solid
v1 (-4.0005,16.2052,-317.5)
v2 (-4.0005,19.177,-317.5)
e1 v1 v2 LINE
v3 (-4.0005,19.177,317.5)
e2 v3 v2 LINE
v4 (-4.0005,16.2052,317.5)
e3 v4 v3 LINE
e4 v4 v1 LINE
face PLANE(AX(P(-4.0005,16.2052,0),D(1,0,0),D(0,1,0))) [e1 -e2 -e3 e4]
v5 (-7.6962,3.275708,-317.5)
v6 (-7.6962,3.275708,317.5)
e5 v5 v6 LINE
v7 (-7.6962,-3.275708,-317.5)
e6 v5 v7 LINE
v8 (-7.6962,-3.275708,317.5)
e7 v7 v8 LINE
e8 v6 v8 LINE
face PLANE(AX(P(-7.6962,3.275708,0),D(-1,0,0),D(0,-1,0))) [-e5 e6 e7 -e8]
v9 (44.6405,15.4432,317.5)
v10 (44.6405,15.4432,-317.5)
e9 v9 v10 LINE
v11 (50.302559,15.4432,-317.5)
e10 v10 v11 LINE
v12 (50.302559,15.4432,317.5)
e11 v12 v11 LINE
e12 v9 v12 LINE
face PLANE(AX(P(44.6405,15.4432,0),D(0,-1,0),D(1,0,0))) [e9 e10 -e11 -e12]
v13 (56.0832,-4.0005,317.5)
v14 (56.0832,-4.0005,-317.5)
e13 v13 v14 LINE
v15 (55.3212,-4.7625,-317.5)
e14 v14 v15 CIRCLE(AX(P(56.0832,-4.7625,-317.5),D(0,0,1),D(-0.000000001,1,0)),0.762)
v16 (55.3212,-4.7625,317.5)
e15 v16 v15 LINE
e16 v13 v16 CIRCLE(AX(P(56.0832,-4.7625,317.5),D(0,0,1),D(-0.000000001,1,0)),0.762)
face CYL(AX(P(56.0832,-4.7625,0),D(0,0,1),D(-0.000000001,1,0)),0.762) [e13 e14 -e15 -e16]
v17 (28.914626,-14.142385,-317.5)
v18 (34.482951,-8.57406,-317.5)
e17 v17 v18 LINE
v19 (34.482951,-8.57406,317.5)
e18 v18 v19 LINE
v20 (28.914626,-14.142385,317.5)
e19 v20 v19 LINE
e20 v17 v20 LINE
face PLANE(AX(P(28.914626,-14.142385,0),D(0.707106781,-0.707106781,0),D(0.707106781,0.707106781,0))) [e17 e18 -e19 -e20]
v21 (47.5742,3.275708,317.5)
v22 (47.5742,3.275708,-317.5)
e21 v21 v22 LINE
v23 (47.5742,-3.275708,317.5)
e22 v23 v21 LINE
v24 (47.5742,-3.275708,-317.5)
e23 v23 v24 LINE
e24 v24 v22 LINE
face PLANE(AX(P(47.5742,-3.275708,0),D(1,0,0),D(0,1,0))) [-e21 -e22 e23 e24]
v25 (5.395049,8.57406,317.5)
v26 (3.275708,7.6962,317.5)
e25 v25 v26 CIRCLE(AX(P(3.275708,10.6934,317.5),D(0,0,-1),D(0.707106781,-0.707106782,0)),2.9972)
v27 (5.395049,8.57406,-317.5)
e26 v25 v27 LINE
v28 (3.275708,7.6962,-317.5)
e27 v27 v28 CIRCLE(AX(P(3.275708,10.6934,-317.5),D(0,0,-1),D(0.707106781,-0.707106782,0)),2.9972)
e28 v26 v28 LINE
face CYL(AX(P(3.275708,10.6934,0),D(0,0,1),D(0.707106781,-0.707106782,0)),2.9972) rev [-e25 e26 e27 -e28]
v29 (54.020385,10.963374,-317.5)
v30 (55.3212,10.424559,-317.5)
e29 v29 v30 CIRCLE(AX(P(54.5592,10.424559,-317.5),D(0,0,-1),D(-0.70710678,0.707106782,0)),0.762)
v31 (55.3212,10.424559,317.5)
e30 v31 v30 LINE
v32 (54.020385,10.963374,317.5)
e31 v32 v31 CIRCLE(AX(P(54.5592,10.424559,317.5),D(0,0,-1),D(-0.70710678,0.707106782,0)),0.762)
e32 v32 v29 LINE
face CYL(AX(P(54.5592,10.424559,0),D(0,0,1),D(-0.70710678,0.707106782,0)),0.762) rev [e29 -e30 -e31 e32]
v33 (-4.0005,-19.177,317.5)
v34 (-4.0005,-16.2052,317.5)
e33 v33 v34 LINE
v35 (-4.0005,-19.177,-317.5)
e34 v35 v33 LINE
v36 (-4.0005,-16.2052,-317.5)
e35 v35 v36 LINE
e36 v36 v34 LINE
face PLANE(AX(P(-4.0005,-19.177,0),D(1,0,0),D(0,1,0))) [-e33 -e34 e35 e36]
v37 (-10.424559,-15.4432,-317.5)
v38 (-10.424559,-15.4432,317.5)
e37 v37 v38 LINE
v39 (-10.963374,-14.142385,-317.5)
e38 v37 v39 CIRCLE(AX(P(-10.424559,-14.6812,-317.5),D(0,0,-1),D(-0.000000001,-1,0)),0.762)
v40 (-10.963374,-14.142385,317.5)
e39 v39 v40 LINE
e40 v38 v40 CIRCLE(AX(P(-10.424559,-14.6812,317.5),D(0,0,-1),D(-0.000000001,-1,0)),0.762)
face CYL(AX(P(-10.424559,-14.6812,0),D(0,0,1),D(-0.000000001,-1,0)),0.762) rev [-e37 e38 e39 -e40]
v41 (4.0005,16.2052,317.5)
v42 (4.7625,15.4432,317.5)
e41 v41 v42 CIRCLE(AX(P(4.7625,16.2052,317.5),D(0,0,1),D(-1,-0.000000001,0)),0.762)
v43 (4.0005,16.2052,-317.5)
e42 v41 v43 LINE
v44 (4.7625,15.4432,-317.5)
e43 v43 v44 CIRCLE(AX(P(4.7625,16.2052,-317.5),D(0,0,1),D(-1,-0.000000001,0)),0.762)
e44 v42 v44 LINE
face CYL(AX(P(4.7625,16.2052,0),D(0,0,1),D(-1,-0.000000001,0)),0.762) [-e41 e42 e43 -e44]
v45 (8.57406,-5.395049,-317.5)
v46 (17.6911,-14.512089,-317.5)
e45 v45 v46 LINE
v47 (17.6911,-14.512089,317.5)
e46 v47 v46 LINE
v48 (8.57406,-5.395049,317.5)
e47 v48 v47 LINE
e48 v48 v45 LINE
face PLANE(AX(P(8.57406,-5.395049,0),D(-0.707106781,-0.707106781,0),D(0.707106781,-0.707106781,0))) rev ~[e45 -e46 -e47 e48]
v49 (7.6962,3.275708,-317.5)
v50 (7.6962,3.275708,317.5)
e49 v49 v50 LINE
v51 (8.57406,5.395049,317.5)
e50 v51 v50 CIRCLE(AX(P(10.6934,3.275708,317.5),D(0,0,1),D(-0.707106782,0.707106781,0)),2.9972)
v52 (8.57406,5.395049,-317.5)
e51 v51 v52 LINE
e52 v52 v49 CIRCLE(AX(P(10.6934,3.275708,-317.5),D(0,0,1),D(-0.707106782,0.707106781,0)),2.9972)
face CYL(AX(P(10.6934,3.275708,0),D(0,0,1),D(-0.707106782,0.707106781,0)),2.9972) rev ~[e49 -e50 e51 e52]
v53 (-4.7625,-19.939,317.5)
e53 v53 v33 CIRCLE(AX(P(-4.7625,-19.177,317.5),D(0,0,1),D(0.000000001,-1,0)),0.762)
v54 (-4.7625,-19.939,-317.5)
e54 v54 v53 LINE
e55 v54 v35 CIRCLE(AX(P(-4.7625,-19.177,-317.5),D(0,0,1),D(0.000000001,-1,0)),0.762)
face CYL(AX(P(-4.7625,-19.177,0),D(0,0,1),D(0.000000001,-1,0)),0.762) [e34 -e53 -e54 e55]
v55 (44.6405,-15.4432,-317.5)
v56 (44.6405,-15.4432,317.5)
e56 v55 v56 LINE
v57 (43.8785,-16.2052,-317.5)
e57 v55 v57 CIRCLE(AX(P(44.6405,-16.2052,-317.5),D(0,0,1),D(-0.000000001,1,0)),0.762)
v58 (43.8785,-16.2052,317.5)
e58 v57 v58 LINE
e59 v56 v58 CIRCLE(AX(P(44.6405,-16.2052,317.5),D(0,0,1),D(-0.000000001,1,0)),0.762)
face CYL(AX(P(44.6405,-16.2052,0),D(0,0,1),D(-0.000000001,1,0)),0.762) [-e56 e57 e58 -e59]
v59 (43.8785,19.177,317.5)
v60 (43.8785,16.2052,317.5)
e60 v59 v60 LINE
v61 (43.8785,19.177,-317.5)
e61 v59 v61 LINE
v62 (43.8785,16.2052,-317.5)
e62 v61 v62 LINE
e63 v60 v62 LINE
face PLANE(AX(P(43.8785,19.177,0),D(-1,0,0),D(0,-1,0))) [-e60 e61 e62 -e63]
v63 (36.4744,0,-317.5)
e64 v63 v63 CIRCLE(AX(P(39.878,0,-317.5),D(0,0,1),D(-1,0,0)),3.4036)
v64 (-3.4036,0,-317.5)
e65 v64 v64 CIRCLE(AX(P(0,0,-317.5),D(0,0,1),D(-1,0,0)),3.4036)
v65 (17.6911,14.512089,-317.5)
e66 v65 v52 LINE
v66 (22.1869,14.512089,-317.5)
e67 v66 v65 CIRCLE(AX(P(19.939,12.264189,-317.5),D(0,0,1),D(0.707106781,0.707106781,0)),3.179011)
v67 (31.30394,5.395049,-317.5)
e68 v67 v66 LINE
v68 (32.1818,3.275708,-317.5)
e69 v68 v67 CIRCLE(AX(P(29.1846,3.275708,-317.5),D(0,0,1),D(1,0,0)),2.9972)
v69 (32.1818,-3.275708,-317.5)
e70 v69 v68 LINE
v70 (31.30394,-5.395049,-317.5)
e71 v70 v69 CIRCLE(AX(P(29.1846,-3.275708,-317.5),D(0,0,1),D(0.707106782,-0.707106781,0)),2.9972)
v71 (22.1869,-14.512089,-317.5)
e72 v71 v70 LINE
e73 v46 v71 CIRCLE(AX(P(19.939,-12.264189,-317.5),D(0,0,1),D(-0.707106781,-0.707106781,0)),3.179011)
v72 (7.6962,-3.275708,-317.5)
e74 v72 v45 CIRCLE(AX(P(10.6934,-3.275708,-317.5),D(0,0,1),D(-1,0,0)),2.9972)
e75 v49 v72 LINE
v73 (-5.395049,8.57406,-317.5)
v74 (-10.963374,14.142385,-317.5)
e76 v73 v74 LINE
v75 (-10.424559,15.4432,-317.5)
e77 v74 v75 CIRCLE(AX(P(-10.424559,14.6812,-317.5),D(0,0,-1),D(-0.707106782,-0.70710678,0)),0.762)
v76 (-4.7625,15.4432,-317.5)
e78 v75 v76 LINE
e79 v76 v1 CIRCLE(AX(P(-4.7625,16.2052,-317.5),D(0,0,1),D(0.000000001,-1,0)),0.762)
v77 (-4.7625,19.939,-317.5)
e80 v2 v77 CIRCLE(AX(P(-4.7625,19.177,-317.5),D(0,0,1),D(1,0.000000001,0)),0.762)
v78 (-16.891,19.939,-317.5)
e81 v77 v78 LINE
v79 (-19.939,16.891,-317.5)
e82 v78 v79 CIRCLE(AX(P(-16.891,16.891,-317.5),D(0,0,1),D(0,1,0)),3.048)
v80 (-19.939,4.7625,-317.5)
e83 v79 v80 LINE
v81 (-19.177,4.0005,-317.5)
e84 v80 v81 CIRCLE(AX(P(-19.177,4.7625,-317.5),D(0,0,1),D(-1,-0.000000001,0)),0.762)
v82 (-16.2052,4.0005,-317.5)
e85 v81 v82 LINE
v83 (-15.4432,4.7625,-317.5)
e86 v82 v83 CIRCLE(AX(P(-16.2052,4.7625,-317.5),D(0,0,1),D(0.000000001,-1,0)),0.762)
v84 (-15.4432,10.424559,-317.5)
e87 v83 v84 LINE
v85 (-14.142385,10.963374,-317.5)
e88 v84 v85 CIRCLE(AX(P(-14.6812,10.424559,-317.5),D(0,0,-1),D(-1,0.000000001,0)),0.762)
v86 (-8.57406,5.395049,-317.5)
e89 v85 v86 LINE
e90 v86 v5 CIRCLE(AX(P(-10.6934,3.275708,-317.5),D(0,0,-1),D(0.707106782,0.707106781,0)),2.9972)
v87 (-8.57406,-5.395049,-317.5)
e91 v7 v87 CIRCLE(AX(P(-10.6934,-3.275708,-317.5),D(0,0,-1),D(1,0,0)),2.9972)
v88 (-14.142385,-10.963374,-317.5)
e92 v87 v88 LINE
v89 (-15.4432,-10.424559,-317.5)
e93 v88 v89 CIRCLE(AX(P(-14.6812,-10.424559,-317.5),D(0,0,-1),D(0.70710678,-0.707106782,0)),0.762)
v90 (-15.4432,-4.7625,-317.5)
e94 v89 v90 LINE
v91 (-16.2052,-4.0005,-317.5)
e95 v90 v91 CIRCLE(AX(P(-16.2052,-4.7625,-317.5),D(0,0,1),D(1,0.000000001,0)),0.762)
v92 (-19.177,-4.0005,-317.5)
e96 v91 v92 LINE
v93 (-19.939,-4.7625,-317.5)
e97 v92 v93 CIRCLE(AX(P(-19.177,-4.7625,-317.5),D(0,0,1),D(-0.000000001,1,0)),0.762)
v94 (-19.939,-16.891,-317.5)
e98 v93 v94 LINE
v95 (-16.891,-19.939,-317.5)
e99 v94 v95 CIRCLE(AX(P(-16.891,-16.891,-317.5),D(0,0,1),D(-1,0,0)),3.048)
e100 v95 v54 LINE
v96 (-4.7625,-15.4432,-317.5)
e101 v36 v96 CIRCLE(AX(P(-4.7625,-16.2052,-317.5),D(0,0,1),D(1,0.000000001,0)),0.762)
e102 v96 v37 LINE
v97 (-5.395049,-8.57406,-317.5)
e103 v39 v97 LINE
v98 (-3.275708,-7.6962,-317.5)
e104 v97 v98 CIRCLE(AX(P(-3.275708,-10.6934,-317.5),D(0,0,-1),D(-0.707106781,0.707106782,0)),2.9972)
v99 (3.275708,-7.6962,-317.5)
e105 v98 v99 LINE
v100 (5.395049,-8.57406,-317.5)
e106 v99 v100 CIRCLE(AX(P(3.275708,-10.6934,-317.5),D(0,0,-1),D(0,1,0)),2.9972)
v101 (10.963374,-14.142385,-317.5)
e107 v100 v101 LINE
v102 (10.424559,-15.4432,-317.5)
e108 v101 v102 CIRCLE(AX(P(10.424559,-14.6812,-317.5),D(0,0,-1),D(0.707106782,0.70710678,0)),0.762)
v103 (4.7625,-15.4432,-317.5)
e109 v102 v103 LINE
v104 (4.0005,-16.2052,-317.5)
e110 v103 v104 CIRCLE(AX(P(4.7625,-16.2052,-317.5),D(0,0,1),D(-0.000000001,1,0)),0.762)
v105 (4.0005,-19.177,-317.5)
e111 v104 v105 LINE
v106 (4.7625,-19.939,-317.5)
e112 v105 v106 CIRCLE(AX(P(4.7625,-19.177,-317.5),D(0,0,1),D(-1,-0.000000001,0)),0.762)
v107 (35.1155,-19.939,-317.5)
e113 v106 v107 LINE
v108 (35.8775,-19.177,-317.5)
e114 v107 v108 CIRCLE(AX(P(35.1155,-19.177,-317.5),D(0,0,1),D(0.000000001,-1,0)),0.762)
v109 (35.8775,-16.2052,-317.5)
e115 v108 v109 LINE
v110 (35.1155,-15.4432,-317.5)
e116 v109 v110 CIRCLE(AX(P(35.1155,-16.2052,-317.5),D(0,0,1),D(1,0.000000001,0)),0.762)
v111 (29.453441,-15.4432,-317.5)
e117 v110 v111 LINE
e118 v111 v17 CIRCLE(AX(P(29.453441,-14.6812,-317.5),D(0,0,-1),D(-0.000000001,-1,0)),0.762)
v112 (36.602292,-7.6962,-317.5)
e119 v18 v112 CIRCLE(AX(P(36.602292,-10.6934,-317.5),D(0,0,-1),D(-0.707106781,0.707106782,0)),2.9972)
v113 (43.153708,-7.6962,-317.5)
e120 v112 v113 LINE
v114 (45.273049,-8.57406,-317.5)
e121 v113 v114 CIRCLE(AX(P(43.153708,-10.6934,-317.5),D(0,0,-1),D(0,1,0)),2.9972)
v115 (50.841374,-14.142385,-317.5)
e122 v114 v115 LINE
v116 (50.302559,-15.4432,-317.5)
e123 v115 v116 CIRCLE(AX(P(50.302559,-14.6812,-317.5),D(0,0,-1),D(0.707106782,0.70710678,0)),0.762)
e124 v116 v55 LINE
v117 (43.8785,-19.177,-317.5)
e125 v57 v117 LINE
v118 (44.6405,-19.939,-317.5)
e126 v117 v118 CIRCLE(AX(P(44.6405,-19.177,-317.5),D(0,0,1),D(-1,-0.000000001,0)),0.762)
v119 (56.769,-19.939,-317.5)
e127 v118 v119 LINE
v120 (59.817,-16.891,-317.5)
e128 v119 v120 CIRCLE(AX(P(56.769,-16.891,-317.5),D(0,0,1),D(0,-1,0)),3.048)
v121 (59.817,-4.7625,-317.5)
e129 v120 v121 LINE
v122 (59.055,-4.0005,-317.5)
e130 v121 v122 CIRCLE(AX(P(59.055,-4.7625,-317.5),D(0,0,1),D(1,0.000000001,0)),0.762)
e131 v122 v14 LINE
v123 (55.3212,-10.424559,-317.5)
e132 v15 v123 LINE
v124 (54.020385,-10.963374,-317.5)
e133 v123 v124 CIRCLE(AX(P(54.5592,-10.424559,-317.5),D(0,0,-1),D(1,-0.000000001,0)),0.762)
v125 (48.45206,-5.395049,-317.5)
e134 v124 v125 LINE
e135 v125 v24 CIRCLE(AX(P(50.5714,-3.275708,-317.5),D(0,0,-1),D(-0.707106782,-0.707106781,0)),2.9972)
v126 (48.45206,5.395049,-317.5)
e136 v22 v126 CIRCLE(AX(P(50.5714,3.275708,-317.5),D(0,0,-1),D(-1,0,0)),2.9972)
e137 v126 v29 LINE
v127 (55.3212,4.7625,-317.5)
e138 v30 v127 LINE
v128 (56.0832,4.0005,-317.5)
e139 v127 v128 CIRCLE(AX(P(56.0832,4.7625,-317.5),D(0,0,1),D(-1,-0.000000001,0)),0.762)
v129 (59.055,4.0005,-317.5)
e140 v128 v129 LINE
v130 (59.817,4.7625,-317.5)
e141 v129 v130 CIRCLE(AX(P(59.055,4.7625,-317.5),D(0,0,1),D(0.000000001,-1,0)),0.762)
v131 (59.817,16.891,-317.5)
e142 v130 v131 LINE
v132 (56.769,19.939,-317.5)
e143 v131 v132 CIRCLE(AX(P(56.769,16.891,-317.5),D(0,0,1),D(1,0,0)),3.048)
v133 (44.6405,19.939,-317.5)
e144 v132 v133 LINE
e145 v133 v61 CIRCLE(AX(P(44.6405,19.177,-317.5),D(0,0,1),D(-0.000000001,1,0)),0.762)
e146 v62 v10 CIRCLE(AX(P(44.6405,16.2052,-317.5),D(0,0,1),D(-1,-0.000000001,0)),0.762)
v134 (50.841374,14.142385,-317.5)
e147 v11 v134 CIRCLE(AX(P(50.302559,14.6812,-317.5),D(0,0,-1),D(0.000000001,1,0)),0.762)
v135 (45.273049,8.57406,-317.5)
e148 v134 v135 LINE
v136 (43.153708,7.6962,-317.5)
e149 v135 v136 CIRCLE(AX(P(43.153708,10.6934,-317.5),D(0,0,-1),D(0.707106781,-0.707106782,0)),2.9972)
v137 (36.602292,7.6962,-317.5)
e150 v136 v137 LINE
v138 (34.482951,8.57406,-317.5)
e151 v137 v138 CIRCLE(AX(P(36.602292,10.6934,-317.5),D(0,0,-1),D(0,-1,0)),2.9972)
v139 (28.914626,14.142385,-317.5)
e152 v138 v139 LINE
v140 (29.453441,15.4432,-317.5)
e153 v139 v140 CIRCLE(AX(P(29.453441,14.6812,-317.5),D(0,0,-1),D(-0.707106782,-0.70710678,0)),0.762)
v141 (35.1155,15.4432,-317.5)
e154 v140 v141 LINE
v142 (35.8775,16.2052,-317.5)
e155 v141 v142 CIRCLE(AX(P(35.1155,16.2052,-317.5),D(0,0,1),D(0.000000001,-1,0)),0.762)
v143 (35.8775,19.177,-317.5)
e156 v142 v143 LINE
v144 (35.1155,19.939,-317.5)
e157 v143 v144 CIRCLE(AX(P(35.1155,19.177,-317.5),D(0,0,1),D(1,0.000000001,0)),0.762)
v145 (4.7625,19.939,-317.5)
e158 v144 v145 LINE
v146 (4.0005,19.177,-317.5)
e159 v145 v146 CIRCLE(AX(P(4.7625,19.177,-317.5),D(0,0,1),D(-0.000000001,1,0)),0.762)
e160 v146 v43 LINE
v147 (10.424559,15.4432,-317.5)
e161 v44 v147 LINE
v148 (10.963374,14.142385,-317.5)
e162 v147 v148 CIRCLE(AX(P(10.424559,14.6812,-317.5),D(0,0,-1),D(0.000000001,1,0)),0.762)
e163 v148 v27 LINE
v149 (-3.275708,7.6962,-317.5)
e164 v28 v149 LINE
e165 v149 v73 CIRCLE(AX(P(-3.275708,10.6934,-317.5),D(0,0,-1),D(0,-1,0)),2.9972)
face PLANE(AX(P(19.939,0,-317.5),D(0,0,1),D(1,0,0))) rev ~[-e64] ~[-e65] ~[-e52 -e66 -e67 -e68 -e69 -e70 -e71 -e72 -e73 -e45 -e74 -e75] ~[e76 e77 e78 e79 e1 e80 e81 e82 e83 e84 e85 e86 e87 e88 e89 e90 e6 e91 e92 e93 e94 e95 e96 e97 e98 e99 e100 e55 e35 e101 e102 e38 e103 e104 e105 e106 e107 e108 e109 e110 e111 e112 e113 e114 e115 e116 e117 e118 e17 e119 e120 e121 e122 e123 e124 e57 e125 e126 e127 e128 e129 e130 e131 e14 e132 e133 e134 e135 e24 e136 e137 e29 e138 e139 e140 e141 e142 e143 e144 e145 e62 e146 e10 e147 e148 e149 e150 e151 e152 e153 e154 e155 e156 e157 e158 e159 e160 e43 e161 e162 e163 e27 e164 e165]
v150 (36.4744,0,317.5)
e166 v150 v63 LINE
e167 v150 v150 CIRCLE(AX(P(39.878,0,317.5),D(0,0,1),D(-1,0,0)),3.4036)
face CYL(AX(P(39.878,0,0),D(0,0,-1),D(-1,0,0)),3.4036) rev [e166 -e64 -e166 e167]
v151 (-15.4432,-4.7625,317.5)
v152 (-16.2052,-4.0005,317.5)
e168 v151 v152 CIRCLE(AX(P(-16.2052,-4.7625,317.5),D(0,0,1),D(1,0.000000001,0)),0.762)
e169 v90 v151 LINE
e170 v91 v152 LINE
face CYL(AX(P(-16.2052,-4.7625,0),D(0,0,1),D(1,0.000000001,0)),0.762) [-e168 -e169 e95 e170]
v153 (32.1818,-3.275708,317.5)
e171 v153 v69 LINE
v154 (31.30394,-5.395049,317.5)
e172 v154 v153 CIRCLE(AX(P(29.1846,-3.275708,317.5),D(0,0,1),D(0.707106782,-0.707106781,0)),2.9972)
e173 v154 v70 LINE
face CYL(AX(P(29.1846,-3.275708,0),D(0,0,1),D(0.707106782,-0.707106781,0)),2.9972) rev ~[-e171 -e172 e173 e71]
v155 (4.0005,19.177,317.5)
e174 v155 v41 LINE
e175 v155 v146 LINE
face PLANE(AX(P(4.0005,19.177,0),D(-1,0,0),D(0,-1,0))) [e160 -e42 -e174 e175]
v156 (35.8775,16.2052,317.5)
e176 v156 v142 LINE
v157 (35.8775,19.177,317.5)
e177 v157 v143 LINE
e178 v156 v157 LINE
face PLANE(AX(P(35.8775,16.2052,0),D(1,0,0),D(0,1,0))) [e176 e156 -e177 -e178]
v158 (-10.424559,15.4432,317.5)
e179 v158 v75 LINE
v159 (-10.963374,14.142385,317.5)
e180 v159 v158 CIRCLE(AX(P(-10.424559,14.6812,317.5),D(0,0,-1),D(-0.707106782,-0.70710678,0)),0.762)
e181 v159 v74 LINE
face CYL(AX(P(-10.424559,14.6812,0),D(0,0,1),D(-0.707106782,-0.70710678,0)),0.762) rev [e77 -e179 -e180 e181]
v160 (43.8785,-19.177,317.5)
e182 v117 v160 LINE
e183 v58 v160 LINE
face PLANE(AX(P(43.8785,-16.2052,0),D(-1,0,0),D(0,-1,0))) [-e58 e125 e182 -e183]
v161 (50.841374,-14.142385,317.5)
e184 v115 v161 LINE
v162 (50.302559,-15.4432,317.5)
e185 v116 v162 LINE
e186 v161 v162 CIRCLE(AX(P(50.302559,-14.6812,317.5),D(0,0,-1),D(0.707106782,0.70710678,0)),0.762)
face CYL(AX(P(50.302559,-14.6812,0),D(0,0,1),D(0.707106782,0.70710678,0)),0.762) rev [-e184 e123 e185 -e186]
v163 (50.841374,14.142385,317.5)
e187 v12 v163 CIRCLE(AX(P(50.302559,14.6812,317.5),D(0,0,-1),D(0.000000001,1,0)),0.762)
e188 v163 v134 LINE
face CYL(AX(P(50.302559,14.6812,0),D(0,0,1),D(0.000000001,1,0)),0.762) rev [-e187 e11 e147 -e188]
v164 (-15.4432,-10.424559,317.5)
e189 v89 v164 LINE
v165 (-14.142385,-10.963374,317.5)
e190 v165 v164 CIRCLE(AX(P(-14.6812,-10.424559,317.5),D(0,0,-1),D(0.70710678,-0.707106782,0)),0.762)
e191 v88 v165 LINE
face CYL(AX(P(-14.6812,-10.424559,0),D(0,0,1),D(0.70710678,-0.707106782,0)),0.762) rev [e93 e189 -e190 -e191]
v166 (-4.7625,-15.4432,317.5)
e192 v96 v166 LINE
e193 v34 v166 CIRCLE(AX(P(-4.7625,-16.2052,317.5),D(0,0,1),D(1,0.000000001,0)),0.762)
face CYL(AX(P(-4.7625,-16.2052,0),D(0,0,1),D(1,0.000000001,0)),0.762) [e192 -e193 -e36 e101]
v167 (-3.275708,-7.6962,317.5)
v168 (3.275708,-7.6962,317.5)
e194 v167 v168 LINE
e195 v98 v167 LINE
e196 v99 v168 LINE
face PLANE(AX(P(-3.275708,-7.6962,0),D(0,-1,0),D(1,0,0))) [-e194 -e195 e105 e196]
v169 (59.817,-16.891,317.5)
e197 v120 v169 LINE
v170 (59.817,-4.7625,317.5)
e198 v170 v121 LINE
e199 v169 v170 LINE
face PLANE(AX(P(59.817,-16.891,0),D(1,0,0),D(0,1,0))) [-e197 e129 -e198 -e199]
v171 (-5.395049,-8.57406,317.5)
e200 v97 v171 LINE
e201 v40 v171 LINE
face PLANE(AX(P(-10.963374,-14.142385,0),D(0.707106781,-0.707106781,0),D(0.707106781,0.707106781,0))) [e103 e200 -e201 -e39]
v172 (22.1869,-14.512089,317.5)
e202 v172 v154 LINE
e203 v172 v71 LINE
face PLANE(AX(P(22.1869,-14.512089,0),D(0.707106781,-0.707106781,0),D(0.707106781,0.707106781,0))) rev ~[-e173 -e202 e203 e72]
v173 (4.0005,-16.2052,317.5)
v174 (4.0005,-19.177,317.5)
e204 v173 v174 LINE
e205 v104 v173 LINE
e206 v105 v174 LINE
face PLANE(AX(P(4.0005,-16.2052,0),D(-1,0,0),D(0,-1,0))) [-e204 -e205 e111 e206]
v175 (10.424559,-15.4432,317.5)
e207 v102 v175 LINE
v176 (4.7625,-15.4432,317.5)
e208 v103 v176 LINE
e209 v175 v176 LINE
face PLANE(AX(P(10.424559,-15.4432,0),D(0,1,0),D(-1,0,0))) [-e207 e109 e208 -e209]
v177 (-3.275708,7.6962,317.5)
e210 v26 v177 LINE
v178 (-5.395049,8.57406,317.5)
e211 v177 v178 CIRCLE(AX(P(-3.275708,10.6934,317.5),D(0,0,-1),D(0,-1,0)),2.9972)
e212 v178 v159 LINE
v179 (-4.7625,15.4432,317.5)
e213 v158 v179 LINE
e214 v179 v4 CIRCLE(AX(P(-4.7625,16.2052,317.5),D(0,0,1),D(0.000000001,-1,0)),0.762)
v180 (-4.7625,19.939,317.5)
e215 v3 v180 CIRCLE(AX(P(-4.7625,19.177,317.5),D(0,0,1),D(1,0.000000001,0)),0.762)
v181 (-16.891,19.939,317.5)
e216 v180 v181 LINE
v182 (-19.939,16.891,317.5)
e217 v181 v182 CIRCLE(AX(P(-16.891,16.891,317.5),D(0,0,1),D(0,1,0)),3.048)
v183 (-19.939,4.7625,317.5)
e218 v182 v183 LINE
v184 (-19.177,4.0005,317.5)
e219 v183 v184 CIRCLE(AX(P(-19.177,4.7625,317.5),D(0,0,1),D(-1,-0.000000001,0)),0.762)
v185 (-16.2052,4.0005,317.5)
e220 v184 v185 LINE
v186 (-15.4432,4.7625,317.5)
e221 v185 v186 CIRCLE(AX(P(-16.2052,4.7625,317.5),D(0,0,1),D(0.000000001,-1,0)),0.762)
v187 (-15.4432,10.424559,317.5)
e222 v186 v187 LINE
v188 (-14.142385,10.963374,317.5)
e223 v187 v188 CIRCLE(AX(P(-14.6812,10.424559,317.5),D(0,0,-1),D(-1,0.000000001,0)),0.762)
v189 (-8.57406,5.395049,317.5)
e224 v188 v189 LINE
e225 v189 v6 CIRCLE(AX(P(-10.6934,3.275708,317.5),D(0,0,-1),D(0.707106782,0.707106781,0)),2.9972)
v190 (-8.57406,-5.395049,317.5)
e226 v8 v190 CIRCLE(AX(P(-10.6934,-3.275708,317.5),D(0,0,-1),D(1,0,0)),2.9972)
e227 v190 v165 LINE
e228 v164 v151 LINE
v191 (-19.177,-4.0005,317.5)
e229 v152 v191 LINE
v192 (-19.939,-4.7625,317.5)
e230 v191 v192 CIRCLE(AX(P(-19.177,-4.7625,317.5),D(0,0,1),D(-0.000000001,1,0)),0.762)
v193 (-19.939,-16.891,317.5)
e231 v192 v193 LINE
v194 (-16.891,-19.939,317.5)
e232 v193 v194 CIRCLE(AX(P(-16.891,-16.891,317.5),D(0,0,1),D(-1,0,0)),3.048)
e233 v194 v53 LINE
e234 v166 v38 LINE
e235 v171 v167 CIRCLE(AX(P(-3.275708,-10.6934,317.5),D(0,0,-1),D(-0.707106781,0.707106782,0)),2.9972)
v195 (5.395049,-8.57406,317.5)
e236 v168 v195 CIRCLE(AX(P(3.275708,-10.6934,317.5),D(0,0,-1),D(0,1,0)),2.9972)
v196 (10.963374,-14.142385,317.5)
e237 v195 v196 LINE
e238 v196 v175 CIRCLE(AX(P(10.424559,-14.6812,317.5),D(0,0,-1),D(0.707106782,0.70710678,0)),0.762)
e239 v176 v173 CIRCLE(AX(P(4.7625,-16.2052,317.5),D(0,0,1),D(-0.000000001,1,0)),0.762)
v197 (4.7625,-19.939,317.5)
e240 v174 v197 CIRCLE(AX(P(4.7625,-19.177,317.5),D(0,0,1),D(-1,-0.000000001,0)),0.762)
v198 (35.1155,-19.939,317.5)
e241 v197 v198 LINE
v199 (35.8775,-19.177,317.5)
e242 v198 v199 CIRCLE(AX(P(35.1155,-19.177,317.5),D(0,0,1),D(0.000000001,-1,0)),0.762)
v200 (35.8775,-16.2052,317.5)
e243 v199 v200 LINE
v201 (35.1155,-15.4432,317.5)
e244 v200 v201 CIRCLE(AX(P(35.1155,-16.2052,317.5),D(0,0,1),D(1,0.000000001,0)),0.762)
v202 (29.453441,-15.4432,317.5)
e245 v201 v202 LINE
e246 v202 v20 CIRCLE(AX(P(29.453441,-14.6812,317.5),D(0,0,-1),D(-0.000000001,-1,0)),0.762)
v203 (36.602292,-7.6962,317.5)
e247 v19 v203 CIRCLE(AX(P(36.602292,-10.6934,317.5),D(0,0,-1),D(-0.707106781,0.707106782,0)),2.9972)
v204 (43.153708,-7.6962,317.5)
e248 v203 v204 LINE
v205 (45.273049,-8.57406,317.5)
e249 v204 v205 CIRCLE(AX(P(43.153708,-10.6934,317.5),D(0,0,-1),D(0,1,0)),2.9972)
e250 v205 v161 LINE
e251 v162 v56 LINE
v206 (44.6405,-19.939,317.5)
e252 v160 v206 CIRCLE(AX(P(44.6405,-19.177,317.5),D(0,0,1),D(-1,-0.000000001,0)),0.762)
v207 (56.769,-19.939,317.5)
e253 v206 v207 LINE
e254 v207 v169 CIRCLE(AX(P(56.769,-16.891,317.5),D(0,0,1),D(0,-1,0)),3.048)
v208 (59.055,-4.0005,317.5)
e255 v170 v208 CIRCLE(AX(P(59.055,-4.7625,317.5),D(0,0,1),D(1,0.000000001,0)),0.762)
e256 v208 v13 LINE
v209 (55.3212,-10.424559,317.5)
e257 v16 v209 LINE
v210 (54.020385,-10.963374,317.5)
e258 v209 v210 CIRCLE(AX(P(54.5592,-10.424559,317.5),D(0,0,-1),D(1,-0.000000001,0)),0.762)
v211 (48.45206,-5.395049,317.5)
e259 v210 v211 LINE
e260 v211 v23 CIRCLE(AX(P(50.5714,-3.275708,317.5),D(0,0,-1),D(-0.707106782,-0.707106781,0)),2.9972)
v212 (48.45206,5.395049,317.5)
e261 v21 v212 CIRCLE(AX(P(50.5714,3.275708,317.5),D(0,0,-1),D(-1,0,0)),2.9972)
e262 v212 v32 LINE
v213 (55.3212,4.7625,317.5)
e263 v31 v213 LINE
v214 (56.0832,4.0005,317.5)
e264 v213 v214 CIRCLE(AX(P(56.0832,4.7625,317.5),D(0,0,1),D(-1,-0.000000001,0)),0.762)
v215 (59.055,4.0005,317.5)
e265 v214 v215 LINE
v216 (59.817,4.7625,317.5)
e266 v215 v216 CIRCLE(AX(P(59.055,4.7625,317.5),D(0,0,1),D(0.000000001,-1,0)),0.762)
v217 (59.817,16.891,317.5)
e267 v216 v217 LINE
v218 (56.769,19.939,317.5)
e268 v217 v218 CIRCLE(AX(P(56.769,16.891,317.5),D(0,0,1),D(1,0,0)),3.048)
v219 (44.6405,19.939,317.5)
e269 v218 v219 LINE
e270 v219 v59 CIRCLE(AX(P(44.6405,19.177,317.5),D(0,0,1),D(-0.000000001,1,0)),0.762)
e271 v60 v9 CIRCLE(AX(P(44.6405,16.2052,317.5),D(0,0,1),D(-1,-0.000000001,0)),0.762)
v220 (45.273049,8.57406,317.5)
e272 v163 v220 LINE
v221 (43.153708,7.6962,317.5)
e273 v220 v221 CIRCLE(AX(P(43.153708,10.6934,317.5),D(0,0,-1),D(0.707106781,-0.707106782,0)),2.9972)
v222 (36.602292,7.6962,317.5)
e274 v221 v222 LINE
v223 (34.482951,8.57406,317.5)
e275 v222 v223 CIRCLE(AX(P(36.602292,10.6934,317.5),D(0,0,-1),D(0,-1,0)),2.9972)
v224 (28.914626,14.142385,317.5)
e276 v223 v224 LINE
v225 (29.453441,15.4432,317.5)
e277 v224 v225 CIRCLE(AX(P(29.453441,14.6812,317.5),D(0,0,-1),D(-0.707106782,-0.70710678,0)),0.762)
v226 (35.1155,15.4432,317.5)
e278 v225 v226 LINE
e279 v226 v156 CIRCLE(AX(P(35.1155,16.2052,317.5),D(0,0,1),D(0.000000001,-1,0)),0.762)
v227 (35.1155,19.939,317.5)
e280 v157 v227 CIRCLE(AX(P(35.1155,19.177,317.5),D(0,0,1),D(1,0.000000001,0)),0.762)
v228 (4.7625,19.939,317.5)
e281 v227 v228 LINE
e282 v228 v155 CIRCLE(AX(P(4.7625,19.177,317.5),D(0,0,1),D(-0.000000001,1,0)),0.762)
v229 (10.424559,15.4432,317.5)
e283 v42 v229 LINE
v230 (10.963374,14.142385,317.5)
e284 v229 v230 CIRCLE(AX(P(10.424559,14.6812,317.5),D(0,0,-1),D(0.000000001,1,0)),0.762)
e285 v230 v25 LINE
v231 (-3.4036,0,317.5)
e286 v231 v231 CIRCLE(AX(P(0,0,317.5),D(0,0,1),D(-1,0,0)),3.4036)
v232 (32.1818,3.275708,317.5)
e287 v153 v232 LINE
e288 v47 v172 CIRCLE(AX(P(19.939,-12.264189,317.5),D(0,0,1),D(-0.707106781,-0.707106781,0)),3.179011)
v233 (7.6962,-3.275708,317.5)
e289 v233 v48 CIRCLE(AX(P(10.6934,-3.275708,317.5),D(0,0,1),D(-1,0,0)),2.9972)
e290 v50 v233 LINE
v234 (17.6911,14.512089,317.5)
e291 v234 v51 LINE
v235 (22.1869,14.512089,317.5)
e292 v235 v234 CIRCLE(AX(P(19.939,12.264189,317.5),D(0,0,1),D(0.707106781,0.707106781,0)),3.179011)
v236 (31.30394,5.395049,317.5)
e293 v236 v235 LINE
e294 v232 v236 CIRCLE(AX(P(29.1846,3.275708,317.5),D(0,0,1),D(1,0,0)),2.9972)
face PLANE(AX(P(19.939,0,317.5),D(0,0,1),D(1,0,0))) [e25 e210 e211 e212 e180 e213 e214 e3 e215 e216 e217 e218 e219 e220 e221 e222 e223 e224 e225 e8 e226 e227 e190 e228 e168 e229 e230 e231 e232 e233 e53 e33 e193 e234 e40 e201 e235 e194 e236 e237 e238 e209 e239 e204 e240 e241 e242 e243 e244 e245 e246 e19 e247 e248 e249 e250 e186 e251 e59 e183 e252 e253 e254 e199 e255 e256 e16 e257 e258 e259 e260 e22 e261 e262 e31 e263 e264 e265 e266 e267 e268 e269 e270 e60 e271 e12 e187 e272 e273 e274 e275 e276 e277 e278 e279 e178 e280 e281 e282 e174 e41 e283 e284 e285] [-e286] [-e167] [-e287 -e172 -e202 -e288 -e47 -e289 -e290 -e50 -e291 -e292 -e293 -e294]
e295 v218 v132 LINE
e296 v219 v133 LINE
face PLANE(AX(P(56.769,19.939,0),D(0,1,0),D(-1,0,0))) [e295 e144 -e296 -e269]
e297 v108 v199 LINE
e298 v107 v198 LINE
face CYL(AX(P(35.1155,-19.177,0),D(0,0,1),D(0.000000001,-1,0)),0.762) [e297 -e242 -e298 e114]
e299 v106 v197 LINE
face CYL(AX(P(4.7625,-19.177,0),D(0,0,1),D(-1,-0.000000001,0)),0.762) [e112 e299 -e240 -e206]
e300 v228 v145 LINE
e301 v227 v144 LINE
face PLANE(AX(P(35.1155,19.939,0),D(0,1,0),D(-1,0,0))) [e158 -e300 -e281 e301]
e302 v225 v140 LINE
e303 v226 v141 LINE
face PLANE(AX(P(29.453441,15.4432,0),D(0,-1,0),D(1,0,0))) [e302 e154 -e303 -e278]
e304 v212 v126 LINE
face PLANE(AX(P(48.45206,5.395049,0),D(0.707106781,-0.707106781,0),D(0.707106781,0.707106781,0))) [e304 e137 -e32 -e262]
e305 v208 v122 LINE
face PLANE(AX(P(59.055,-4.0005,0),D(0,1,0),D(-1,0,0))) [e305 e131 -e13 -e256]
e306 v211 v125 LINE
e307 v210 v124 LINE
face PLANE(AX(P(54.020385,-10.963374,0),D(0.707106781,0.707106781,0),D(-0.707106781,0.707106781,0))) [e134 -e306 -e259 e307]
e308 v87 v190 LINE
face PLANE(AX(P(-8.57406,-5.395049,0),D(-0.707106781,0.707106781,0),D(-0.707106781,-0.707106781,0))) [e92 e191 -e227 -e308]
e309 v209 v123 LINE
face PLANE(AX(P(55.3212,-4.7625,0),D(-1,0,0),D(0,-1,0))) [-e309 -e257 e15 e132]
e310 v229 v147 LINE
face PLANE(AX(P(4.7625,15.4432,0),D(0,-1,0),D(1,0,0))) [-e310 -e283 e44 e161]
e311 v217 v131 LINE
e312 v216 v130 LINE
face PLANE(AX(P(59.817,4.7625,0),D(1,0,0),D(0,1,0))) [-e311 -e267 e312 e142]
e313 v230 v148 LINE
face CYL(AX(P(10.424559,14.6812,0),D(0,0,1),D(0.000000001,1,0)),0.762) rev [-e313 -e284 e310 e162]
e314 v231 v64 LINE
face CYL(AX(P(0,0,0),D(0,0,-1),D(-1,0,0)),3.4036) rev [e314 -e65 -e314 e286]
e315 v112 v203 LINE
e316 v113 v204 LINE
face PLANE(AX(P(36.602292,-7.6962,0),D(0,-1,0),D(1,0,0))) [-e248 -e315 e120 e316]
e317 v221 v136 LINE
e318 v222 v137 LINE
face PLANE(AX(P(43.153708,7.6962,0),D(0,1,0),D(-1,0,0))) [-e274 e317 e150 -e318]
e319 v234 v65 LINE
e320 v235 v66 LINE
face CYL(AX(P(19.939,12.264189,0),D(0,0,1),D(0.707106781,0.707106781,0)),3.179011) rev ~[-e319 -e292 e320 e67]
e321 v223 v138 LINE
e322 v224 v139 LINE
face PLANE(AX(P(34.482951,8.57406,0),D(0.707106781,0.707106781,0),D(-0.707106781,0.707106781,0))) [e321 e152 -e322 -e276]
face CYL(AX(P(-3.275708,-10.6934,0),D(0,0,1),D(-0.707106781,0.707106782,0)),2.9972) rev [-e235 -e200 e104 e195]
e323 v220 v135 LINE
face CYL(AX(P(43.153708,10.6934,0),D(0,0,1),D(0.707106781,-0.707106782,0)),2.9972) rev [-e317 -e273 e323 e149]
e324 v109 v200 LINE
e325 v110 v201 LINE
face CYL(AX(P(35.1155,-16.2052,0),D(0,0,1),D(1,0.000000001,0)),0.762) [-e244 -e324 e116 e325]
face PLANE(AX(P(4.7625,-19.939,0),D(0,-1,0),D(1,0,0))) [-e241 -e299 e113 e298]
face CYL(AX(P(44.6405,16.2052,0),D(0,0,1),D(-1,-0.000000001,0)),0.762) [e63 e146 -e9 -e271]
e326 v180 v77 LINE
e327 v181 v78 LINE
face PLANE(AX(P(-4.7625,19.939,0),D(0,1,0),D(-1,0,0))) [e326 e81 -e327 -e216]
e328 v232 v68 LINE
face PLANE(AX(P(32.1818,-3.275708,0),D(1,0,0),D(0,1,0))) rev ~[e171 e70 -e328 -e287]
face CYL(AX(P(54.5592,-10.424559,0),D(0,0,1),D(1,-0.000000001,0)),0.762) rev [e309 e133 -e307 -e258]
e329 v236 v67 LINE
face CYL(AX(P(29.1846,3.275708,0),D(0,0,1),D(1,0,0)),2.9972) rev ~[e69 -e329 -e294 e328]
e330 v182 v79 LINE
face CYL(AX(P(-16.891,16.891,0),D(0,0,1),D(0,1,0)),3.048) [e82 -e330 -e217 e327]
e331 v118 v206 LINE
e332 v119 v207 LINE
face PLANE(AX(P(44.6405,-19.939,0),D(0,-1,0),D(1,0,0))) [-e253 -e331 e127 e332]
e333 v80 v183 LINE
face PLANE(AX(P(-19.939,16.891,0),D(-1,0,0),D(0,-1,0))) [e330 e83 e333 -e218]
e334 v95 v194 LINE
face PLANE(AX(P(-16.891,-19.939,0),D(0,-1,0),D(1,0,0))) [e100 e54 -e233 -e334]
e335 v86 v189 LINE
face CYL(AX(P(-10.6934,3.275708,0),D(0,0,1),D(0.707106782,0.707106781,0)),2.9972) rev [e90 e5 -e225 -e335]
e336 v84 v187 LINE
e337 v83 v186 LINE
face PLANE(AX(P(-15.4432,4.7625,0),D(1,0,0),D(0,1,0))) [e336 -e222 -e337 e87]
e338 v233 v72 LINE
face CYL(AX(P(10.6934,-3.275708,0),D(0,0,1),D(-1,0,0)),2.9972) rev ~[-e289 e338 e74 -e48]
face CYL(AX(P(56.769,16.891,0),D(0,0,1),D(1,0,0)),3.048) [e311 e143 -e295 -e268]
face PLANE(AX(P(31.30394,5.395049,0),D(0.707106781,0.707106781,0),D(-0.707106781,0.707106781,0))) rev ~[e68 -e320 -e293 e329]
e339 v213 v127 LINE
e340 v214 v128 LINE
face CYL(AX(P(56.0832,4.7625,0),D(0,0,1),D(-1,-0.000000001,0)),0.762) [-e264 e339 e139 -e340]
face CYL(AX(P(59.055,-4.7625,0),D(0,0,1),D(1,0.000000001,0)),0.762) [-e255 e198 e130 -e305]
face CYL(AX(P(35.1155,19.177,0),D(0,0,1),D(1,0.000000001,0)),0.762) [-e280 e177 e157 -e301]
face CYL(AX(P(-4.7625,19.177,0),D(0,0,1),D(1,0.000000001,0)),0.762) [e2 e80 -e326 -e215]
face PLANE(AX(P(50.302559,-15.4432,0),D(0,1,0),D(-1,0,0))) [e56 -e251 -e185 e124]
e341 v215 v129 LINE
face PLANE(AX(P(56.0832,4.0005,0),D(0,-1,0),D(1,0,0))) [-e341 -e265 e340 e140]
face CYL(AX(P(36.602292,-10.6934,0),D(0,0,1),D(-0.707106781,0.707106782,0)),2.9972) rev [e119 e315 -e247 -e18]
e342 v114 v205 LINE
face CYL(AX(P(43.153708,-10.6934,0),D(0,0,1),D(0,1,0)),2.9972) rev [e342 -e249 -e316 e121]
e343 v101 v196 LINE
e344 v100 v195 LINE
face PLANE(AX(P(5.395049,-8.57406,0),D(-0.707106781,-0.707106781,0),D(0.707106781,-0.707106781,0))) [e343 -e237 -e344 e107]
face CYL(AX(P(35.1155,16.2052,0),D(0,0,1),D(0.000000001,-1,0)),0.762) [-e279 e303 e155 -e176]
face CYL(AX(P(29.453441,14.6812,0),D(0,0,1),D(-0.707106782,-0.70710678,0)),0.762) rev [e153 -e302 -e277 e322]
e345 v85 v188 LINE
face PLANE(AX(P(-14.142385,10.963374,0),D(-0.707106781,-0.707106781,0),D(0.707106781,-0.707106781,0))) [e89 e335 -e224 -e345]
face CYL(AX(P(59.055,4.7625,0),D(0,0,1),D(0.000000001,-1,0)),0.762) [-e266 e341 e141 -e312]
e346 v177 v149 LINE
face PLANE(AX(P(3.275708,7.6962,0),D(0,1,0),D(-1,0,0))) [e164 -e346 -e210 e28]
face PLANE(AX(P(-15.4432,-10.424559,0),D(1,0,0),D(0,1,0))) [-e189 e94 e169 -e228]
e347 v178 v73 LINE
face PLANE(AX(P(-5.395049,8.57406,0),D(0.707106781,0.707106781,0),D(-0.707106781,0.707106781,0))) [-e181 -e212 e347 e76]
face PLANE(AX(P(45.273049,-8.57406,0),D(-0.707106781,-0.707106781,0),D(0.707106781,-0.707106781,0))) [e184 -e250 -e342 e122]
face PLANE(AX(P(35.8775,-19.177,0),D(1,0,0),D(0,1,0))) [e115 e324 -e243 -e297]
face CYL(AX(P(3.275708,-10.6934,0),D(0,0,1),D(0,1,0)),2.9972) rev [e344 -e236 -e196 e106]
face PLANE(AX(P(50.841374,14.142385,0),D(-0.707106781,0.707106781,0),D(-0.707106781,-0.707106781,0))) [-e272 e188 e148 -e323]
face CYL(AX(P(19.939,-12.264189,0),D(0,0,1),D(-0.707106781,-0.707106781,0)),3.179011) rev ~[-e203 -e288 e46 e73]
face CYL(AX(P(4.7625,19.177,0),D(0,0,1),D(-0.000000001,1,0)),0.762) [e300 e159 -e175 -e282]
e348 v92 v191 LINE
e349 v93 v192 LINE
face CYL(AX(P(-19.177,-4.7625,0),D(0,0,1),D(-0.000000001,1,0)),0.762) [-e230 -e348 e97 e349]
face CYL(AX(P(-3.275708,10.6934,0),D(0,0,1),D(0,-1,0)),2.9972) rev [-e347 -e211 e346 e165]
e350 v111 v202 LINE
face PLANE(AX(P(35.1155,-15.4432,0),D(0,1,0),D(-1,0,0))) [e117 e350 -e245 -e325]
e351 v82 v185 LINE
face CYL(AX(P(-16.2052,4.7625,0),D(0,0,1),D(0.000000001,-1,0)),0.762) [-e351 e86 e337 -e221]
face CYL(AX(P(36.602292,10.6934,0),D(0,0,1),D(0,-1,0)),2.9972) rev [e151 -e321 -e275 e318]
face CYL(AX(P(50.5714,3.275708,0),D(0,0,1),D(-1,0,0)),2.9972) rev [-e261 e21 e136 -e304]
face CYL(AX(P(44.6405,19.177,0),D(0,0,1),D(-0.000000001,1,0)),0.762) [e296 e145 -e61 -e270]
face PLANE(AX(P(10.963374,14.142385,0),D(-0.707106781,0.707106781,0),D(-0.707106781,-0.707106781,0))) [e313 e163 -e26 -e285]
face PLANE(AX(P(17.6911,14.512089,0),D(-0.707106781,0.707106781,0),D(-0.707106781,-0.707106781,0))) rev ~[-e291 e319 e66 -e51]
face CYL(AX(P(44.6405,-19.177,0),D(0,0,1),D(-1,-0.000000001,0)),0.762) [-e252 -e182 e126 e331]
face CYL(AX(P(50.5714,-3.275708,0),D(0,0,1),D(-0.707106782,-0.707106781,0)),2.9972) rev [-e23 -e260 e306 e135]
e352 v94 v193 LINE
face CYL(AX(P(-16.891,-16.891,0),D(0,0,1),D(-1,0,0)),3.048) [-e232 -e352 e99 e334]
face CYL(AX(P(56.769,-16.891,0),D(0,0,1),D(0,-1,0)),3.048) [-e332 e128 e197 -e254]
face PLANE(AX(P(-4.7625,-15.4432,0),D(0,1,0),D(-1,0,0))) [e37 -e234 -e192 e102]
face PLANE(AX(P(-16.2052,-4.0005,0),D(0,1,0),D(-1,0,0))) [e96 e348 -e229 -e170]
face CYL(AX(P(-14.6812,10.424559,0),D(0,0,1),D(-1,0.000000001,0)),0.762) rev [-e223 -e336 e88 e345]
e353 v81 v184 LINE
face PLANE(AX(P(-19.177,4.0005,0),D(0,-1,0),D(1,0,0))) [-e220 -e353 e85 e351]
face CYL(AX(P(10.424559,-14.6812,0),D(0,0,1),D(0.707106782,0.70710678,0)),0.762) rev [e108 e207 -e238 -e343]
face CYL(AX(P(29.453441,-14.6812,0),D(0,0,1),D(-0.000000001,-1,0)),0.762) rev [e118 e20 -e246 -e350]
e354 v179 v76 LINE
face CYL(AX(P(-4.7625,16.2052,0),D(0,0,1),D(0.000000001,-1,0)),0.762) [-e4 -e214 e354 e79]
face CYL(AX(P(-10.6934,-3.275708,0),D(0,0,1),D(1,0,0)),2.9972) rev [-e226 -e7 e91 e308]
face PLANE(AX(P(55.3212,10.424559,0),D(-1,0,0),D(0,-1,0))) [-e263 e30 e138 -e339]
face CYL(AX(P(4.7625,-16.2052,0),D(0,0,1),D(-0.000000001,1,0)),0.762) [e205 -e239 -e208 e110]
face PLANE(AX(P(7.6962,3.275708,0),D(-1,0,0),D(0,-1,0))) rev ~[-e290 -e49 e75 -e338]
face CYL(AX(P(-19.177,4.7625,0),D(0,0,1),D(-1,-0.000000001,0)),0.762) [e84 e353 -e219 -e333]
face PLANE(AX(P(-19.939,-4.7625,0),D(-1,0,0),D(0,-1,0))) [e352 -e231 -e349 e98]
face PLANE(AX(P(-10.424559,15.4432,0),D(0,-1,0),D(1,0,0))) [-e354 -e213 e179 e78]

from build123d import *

# Parameters (mm, degrees)
SKETCH1_R      = 3.4036
EXTRUDE1_DEPTH = 317.5


with BuildPart() as part:
    # Sketch1 → Extrude1 (new, symmetric)
    with BuildSketch(Plane.XY):
        with BuildLine():
            Line((-19.939, 16.891), (-19.939, 4.7625))
            ThreePointArc((-19.939, 4.7625), (-19.715815367, 4.223684633), (-19.177, 4.0005))
            Line((-19.177, 4.0005), (-16.2052, 4.0005))
            ThreePointArc((-16.2052, 4.0005), (-15.666384633, 4.223684633), (-15.4432, 4.7625))
            Line((-15.4432, 4.7625), (-15.4432, 10.424558599))
            ThreePointArc((-15.4432, 10.424558599), (-14.972804775, 11.128554802), (-14.142384633, 10.963373966))
            Line((-14.142384633, 10.963373966), (-8.574059555, 5.395048889))
            ThreePointArc((-8.574059555, 5.395048889), (-7.924348265, 4.422687227), (-7.6962, 3.275708444))
            Line((-7.6962, 3.275708444), (-7.6962, -3.275708444))
            ThreePointArc((-7.6962, -3.275708444), (-7.924348265, -4.422687227), (-8.574059555, -5.395048889))
            Line((-8.574059555, -5.395048889), (-14.142384633, -10.963373966))
            ThreePointArc((-14.142384633, -10.963373966), (-14.972804775, -11.128554802), (-15.4432, -10.424558599))
            Line((-15.4432, -10.424558599), (-15.4432, -4.7625))
            ThreePointArc((-15.4432, -4.7625), (-15.666384633, -4.223684633), (-16.2052, -4.0005))
            Line((-16.2052, -4.0005), (-19.177, -4.0005))
            ThreePointArc((-19.177, -4.0005), (-19.715815367, -4.223684633), (-19.939, -4.7625))
            Line((-19.939, -4.7625), (-19.939, -16.891))
            ThreePointArc((-19.939, -16.891), (-19.046261469, -19.046261469), (-16.891, -19.939))
            Line((-16.891, -19.939), (-4.7625, -19.939))
            ThreePointArc((-4.7625, -19.939), (-4.223684633, -19.715815367), (-4.0005, -19.177))
            Line((-4.0005, -19.177), (-4.0005, -16.2052))
            ThreePointArc((-4.0005, -16.2052), (-4.223684633, -15.666384633), (-4.7625, -15.4432))
            Line((-4.7625, -15.4432), (-10.424558599, -15.4432))
            ThreePointArc((-10.424558599, -15.4432), (-11.128554802, -14.972804775), (-10.963373966, -14.142384633))
            Line((-10.963373966, -14.142384633), (-5.395048889, -8.574059555))
            ThreePointArc((-5.395048889, -8.574059555), (-4.422687227, -7.924348265), (-3.275708444, -7.6962))
            Line((-3.275708444, -7.6962), (3.275708444, -7.6962))
            ThreePointArc((3.275708444, -7.6962), (4.422687227, -7.924348265), (5.395048889, -8.574059555))
            Line((5.395048889, -8.574059555), (10.963373966, -14.142384633))
            ThreePointArc((10.963373966, -14.142384633), (11.128554802, -14.972804775), (10.424558599, -15.4432))
            Line((10.424558599, -15.4432), (4.7625, -15.4432))
            ThreePointArc((4.7625, -15.4432), (4.223684633, -15.666384633), (4.0005, -16.2052))
            Line((4.0005, -16.2052), (4.0005, -19.177))
            ThreePointArc((4.0005, -19.177), (4.223684633, -19.715815367), (4.7625, -19.939))
            Line((4.7625, -19.939), (19.939, -19.939))
            Line((19.939, -19.939), (35.1155, -19.939))
            ThreePointArc((35.1155, -19.939), (35.654315367, -19.715815367), (35.8775, -19.177))
            Line((35.8775, -19.177), (35.8775, -16.2052))
            ThreePointArc((35.8775, -16.2052), (35.654315367, -15.666384633), (35.1155, -15.4432))
            Line((35.1155, -15.4432), (29.453441401, -15.4432))
            ThreePointArc((29.453441401, -15.4432), (28.749445198, -14.972804775), (28.914626034, -14.142384633))
            Line((28.914626034, -14.142384633), (34.482951111, -8.574059555))
            ThreePointArc((34.482951111, -8.574059555), (35.455312773, -7.924348265), (36.602291556, -7.6962))
            Line((36.602291556, -7.6962), (43.153708444, -7.6962))
            ThreePointArc((43.153708444, -7.6962), (44.300687227, -7.924348265), (45.273048889, -8.574059555))
            Line((45.273048889, -8.574059555), (50.841373966, -14.142384633))
            ThreePointArc((50.841373966, -14.142384633), (51.006554802, -14.972804775), (50.302558599, -15.4432))
            Line((50.302558599, -15.4432), (44.6405, -15.4432))
            ThreePointArc((44.6405, -15.4432), (44.101684633, -15.666384633), (43.8785, -16.2052))
            Line((43.8785, -16.2052), (43.8785, -19.177))
            ThreePointArc((43.8785, -19.177), (44.101684633, -19.715815367), (44.6405, -19.939))
            Line((44.6405, -19.939), (56.769, -19.939))
            ThreePointArc((56.769, -19.939), (58.924261469, -19.046261469), (59.817, -16.891))
            Line((59.817, -16.891), (59.817, -4.7625))
            ThreePointArc((59.817, -4.7625), (59.593815367, -4.223684633), (59.055, -4.0005))
            Line((59.055, -4.0005), (56.0832, -4.0005))
            ThreePointArc((56.0832, -4.0005), (55.544384633, -4.223684633), (55.3212, -4.7625))
            Line((55.3212, -4.7625), (55.3212, -10.424558599))
            ThreePointArc((55.3212, -10.424558599), (54.850804775, -11.128554802), (54.020384633, -10.963373966))
            Line((54.020384633, -10.963373966), (48.452059555, -5.395048889))
            ThreePointArc((48.452059555, -5.395048889), (47.802348265, -4.422687227), (47.5742, -3.275708444))
            Line((47.5742, -3.275708444), (47.5742, 3.275708444))
            ThreePointArc((47.5742, 3.275708444), (47.802348265, 4.422687227), (48.452059555, 5.395048889))
            Line((48.452059555, 5.395048889), (54.020384633, 10.963373966))
            ThreePointArc((54.020384633, 10.963373966), (54.850804775, 11.128554802), (55.3212, 10.424558599))
            Line((55.3212, 10.424558599), (55.3212, 4.7625))
            ThreePointArc((55.3212, 4.7625), (55.544384633, 4.223684633), (56.0832, 4.0005))
            Line((56.0832, 4.0005), (59.055, 4.0005))
            ThreePointArc((59.055, 4.0005), (59.593815367, 4.223684633), (59.817, 4.7625))
            Line((59.817, 4.7625), (59.817, 16.891))
            ThreePointArc((59.817, 16.891), (58.924261469, 19.046261469), (56.769, 19.939))
            Line((56.769, 19.939), (44.6405, 19.939))
            ThreePointArc((44.6405, 19.939), (44.101684633, 19.715815367), (43.8785, 19.177))
            Line((43.8785, 19.177), (43.8785, 16.2052))
            ThreePointArc((43.8785, 16.2052), (44.101684633, 15.666384633), (44.6405, 15.4432))
            Line((44.6405, 15.4432), (50.302558599, 15.4432))
            ThreePointArc((50.302558599, 15.4432), (51.006554802, 14.972804775), (50.841373966, 14.142384633))
            Line((50.841373966, 14.142384633), (45.273048889, 8.574059555))
            ThreePointArc((45.273048889, 8.574059555), (44.300687227, 7.924348265), (43.153708444, 7.6962))
            Line((43.153708444, 7.6962), (36.602291556, 7.6962))
            ThreePointArc((36.602291556, 7.6962), (35.455312773, 7.924348265), (34.482951111, 8.574059555))
            Line((34.482951111, 8.574059555), (28.914626034, 14.142384633))
            ThreePointArc((28.914626034, 14.142384633), (28.749445198, 14.972804775), (29.453441401, 15.4432))
            Line((29.453441401, 15.4432), (35.1155, 15.4432))
            ThreePointArc((35.1155, 15.4432), (35.654315367, 15.666384633), (35.8775, 16.2052))
            Line((35.8775, 16.2052), (35.8775, 19.177))
            ThreePointArc((35.8775, 19.177), (35.654315367, 19.715815367), (35.1155, 19.939))
            Line((35.1155, 19.939), (4.7625, 19.939))
            ThreePointArc((4.7625, 19.939), (4.223684633, 19.715815367), (4.0005, 19.177))
            Line((4.0005, 19.177), (4.0005, 16.2052))
            ThreePointArc((4.0005, 16.2052), (4.223684633, 15.666384633), (4.7625, 15.4432))
            Line((4.7625, 15.4432), (10.424558599, 15.4432))
            ThreePointArc((10.424558599, 15.4432), (11.128554802, 14.972804775), (10.963373966, 14.142384633))
            Line((10.963373966, 14.142384633), (5.395048889, 8.574059555))
            ThreePointArc((5.395048889, 8.574059555), (4.422687227, 7.924348265), (3.275708444, 7.6962))
            Line((3.275708444, 7.6962), (-3.275708444, 7.6962))
            ThreePointArc((-3.275708444, 7.6962), (-4.422687227, 7.924348265), (-5.395048889, 8.574059555))
            Line((-5.395048889, 8.574059555), (-10.963373966, 14.142384633))
            ThreePointArc((-10.963373966, 14.142384633), (-11.128554802, 14.972804775), (-10.424558599, 15.4432))
            Line((-10.424558599, 15.4432), (-4.7625, 15.4432))
            ThreePointArc((-4.7625, 15.4432), (-4.223684633, 15.666384633), (-4.0005, 16.2052))
            Line((-4.0005, 16.2052), (-4.0005, 19.177))
            ThreePointArc((-4.0005, 19.177), (-4.223684633, 19.715815367), (-4.7625, 19.939))
            Line((-4.7625, 19.939), (-16.891, 19.939))
            ThreePointArc((-16.891, 19.939), (-19.046261469, 19.046261469), (-19.939, 16.891))
        make_face()
        with Locations(Location((0, 0, 0), (0, 0, 180))):
            Circle(SKETCH1_R, mode=Mode.SUBTRACT)
        with Locations(Location((39.878, 0, 0), (0, 0, 180))):
            Circle(SKETCH1_R, mode=Mode.SUBTRACT)
        with BuildLine():
            Line((7.6962, 3.275708444), (7.6962, -3.275708444))
            ThreePointArc((7.6962, -3.275708444), (7.924348265, -4.422687227), (8.574059555, -5.395048889))
            Line((8.574059555, -5.395048889), (17.6911, -14.512089333))
            ThreePointArc((17.6911, -14.512089333), (19.939, -15.4432), (22.1869, -14.512089333))
            Line((22.1869, -14.512089333), (31.303940445, -5.395048889))
            ThreePointArc((31.303940445, -5.395048889), (31.953651735, -4.422687227), (32.1818, -3.275708444))
            Line((32.1818, -3.275708444), (32.1818, 3.275708444))
            ThreePointArc((32.1818, 3.275708444), (31.953651735, 4.422687227), (31.303940445, 5.395048889))
            Line((31.303940445, 5.395048889), (22.1869, 14.512089333))
            ThreePointArc((22.1869, 14.512089333), (19.939, 15.4432), (17.6911, 14.512089333))
            Line((17.6911, 14.512089333), (8.574059555, 5.395048889))
            ThreePointArc((8.574059555, 5.395048889), (7.924348265, 4.422687227), (7.6962, 3.275708444))
        make_face(mode=Mode.SUBTRACT)
    extrude(amount=EXTRUDE1_DEPTH, both=True)


solid = part.part
